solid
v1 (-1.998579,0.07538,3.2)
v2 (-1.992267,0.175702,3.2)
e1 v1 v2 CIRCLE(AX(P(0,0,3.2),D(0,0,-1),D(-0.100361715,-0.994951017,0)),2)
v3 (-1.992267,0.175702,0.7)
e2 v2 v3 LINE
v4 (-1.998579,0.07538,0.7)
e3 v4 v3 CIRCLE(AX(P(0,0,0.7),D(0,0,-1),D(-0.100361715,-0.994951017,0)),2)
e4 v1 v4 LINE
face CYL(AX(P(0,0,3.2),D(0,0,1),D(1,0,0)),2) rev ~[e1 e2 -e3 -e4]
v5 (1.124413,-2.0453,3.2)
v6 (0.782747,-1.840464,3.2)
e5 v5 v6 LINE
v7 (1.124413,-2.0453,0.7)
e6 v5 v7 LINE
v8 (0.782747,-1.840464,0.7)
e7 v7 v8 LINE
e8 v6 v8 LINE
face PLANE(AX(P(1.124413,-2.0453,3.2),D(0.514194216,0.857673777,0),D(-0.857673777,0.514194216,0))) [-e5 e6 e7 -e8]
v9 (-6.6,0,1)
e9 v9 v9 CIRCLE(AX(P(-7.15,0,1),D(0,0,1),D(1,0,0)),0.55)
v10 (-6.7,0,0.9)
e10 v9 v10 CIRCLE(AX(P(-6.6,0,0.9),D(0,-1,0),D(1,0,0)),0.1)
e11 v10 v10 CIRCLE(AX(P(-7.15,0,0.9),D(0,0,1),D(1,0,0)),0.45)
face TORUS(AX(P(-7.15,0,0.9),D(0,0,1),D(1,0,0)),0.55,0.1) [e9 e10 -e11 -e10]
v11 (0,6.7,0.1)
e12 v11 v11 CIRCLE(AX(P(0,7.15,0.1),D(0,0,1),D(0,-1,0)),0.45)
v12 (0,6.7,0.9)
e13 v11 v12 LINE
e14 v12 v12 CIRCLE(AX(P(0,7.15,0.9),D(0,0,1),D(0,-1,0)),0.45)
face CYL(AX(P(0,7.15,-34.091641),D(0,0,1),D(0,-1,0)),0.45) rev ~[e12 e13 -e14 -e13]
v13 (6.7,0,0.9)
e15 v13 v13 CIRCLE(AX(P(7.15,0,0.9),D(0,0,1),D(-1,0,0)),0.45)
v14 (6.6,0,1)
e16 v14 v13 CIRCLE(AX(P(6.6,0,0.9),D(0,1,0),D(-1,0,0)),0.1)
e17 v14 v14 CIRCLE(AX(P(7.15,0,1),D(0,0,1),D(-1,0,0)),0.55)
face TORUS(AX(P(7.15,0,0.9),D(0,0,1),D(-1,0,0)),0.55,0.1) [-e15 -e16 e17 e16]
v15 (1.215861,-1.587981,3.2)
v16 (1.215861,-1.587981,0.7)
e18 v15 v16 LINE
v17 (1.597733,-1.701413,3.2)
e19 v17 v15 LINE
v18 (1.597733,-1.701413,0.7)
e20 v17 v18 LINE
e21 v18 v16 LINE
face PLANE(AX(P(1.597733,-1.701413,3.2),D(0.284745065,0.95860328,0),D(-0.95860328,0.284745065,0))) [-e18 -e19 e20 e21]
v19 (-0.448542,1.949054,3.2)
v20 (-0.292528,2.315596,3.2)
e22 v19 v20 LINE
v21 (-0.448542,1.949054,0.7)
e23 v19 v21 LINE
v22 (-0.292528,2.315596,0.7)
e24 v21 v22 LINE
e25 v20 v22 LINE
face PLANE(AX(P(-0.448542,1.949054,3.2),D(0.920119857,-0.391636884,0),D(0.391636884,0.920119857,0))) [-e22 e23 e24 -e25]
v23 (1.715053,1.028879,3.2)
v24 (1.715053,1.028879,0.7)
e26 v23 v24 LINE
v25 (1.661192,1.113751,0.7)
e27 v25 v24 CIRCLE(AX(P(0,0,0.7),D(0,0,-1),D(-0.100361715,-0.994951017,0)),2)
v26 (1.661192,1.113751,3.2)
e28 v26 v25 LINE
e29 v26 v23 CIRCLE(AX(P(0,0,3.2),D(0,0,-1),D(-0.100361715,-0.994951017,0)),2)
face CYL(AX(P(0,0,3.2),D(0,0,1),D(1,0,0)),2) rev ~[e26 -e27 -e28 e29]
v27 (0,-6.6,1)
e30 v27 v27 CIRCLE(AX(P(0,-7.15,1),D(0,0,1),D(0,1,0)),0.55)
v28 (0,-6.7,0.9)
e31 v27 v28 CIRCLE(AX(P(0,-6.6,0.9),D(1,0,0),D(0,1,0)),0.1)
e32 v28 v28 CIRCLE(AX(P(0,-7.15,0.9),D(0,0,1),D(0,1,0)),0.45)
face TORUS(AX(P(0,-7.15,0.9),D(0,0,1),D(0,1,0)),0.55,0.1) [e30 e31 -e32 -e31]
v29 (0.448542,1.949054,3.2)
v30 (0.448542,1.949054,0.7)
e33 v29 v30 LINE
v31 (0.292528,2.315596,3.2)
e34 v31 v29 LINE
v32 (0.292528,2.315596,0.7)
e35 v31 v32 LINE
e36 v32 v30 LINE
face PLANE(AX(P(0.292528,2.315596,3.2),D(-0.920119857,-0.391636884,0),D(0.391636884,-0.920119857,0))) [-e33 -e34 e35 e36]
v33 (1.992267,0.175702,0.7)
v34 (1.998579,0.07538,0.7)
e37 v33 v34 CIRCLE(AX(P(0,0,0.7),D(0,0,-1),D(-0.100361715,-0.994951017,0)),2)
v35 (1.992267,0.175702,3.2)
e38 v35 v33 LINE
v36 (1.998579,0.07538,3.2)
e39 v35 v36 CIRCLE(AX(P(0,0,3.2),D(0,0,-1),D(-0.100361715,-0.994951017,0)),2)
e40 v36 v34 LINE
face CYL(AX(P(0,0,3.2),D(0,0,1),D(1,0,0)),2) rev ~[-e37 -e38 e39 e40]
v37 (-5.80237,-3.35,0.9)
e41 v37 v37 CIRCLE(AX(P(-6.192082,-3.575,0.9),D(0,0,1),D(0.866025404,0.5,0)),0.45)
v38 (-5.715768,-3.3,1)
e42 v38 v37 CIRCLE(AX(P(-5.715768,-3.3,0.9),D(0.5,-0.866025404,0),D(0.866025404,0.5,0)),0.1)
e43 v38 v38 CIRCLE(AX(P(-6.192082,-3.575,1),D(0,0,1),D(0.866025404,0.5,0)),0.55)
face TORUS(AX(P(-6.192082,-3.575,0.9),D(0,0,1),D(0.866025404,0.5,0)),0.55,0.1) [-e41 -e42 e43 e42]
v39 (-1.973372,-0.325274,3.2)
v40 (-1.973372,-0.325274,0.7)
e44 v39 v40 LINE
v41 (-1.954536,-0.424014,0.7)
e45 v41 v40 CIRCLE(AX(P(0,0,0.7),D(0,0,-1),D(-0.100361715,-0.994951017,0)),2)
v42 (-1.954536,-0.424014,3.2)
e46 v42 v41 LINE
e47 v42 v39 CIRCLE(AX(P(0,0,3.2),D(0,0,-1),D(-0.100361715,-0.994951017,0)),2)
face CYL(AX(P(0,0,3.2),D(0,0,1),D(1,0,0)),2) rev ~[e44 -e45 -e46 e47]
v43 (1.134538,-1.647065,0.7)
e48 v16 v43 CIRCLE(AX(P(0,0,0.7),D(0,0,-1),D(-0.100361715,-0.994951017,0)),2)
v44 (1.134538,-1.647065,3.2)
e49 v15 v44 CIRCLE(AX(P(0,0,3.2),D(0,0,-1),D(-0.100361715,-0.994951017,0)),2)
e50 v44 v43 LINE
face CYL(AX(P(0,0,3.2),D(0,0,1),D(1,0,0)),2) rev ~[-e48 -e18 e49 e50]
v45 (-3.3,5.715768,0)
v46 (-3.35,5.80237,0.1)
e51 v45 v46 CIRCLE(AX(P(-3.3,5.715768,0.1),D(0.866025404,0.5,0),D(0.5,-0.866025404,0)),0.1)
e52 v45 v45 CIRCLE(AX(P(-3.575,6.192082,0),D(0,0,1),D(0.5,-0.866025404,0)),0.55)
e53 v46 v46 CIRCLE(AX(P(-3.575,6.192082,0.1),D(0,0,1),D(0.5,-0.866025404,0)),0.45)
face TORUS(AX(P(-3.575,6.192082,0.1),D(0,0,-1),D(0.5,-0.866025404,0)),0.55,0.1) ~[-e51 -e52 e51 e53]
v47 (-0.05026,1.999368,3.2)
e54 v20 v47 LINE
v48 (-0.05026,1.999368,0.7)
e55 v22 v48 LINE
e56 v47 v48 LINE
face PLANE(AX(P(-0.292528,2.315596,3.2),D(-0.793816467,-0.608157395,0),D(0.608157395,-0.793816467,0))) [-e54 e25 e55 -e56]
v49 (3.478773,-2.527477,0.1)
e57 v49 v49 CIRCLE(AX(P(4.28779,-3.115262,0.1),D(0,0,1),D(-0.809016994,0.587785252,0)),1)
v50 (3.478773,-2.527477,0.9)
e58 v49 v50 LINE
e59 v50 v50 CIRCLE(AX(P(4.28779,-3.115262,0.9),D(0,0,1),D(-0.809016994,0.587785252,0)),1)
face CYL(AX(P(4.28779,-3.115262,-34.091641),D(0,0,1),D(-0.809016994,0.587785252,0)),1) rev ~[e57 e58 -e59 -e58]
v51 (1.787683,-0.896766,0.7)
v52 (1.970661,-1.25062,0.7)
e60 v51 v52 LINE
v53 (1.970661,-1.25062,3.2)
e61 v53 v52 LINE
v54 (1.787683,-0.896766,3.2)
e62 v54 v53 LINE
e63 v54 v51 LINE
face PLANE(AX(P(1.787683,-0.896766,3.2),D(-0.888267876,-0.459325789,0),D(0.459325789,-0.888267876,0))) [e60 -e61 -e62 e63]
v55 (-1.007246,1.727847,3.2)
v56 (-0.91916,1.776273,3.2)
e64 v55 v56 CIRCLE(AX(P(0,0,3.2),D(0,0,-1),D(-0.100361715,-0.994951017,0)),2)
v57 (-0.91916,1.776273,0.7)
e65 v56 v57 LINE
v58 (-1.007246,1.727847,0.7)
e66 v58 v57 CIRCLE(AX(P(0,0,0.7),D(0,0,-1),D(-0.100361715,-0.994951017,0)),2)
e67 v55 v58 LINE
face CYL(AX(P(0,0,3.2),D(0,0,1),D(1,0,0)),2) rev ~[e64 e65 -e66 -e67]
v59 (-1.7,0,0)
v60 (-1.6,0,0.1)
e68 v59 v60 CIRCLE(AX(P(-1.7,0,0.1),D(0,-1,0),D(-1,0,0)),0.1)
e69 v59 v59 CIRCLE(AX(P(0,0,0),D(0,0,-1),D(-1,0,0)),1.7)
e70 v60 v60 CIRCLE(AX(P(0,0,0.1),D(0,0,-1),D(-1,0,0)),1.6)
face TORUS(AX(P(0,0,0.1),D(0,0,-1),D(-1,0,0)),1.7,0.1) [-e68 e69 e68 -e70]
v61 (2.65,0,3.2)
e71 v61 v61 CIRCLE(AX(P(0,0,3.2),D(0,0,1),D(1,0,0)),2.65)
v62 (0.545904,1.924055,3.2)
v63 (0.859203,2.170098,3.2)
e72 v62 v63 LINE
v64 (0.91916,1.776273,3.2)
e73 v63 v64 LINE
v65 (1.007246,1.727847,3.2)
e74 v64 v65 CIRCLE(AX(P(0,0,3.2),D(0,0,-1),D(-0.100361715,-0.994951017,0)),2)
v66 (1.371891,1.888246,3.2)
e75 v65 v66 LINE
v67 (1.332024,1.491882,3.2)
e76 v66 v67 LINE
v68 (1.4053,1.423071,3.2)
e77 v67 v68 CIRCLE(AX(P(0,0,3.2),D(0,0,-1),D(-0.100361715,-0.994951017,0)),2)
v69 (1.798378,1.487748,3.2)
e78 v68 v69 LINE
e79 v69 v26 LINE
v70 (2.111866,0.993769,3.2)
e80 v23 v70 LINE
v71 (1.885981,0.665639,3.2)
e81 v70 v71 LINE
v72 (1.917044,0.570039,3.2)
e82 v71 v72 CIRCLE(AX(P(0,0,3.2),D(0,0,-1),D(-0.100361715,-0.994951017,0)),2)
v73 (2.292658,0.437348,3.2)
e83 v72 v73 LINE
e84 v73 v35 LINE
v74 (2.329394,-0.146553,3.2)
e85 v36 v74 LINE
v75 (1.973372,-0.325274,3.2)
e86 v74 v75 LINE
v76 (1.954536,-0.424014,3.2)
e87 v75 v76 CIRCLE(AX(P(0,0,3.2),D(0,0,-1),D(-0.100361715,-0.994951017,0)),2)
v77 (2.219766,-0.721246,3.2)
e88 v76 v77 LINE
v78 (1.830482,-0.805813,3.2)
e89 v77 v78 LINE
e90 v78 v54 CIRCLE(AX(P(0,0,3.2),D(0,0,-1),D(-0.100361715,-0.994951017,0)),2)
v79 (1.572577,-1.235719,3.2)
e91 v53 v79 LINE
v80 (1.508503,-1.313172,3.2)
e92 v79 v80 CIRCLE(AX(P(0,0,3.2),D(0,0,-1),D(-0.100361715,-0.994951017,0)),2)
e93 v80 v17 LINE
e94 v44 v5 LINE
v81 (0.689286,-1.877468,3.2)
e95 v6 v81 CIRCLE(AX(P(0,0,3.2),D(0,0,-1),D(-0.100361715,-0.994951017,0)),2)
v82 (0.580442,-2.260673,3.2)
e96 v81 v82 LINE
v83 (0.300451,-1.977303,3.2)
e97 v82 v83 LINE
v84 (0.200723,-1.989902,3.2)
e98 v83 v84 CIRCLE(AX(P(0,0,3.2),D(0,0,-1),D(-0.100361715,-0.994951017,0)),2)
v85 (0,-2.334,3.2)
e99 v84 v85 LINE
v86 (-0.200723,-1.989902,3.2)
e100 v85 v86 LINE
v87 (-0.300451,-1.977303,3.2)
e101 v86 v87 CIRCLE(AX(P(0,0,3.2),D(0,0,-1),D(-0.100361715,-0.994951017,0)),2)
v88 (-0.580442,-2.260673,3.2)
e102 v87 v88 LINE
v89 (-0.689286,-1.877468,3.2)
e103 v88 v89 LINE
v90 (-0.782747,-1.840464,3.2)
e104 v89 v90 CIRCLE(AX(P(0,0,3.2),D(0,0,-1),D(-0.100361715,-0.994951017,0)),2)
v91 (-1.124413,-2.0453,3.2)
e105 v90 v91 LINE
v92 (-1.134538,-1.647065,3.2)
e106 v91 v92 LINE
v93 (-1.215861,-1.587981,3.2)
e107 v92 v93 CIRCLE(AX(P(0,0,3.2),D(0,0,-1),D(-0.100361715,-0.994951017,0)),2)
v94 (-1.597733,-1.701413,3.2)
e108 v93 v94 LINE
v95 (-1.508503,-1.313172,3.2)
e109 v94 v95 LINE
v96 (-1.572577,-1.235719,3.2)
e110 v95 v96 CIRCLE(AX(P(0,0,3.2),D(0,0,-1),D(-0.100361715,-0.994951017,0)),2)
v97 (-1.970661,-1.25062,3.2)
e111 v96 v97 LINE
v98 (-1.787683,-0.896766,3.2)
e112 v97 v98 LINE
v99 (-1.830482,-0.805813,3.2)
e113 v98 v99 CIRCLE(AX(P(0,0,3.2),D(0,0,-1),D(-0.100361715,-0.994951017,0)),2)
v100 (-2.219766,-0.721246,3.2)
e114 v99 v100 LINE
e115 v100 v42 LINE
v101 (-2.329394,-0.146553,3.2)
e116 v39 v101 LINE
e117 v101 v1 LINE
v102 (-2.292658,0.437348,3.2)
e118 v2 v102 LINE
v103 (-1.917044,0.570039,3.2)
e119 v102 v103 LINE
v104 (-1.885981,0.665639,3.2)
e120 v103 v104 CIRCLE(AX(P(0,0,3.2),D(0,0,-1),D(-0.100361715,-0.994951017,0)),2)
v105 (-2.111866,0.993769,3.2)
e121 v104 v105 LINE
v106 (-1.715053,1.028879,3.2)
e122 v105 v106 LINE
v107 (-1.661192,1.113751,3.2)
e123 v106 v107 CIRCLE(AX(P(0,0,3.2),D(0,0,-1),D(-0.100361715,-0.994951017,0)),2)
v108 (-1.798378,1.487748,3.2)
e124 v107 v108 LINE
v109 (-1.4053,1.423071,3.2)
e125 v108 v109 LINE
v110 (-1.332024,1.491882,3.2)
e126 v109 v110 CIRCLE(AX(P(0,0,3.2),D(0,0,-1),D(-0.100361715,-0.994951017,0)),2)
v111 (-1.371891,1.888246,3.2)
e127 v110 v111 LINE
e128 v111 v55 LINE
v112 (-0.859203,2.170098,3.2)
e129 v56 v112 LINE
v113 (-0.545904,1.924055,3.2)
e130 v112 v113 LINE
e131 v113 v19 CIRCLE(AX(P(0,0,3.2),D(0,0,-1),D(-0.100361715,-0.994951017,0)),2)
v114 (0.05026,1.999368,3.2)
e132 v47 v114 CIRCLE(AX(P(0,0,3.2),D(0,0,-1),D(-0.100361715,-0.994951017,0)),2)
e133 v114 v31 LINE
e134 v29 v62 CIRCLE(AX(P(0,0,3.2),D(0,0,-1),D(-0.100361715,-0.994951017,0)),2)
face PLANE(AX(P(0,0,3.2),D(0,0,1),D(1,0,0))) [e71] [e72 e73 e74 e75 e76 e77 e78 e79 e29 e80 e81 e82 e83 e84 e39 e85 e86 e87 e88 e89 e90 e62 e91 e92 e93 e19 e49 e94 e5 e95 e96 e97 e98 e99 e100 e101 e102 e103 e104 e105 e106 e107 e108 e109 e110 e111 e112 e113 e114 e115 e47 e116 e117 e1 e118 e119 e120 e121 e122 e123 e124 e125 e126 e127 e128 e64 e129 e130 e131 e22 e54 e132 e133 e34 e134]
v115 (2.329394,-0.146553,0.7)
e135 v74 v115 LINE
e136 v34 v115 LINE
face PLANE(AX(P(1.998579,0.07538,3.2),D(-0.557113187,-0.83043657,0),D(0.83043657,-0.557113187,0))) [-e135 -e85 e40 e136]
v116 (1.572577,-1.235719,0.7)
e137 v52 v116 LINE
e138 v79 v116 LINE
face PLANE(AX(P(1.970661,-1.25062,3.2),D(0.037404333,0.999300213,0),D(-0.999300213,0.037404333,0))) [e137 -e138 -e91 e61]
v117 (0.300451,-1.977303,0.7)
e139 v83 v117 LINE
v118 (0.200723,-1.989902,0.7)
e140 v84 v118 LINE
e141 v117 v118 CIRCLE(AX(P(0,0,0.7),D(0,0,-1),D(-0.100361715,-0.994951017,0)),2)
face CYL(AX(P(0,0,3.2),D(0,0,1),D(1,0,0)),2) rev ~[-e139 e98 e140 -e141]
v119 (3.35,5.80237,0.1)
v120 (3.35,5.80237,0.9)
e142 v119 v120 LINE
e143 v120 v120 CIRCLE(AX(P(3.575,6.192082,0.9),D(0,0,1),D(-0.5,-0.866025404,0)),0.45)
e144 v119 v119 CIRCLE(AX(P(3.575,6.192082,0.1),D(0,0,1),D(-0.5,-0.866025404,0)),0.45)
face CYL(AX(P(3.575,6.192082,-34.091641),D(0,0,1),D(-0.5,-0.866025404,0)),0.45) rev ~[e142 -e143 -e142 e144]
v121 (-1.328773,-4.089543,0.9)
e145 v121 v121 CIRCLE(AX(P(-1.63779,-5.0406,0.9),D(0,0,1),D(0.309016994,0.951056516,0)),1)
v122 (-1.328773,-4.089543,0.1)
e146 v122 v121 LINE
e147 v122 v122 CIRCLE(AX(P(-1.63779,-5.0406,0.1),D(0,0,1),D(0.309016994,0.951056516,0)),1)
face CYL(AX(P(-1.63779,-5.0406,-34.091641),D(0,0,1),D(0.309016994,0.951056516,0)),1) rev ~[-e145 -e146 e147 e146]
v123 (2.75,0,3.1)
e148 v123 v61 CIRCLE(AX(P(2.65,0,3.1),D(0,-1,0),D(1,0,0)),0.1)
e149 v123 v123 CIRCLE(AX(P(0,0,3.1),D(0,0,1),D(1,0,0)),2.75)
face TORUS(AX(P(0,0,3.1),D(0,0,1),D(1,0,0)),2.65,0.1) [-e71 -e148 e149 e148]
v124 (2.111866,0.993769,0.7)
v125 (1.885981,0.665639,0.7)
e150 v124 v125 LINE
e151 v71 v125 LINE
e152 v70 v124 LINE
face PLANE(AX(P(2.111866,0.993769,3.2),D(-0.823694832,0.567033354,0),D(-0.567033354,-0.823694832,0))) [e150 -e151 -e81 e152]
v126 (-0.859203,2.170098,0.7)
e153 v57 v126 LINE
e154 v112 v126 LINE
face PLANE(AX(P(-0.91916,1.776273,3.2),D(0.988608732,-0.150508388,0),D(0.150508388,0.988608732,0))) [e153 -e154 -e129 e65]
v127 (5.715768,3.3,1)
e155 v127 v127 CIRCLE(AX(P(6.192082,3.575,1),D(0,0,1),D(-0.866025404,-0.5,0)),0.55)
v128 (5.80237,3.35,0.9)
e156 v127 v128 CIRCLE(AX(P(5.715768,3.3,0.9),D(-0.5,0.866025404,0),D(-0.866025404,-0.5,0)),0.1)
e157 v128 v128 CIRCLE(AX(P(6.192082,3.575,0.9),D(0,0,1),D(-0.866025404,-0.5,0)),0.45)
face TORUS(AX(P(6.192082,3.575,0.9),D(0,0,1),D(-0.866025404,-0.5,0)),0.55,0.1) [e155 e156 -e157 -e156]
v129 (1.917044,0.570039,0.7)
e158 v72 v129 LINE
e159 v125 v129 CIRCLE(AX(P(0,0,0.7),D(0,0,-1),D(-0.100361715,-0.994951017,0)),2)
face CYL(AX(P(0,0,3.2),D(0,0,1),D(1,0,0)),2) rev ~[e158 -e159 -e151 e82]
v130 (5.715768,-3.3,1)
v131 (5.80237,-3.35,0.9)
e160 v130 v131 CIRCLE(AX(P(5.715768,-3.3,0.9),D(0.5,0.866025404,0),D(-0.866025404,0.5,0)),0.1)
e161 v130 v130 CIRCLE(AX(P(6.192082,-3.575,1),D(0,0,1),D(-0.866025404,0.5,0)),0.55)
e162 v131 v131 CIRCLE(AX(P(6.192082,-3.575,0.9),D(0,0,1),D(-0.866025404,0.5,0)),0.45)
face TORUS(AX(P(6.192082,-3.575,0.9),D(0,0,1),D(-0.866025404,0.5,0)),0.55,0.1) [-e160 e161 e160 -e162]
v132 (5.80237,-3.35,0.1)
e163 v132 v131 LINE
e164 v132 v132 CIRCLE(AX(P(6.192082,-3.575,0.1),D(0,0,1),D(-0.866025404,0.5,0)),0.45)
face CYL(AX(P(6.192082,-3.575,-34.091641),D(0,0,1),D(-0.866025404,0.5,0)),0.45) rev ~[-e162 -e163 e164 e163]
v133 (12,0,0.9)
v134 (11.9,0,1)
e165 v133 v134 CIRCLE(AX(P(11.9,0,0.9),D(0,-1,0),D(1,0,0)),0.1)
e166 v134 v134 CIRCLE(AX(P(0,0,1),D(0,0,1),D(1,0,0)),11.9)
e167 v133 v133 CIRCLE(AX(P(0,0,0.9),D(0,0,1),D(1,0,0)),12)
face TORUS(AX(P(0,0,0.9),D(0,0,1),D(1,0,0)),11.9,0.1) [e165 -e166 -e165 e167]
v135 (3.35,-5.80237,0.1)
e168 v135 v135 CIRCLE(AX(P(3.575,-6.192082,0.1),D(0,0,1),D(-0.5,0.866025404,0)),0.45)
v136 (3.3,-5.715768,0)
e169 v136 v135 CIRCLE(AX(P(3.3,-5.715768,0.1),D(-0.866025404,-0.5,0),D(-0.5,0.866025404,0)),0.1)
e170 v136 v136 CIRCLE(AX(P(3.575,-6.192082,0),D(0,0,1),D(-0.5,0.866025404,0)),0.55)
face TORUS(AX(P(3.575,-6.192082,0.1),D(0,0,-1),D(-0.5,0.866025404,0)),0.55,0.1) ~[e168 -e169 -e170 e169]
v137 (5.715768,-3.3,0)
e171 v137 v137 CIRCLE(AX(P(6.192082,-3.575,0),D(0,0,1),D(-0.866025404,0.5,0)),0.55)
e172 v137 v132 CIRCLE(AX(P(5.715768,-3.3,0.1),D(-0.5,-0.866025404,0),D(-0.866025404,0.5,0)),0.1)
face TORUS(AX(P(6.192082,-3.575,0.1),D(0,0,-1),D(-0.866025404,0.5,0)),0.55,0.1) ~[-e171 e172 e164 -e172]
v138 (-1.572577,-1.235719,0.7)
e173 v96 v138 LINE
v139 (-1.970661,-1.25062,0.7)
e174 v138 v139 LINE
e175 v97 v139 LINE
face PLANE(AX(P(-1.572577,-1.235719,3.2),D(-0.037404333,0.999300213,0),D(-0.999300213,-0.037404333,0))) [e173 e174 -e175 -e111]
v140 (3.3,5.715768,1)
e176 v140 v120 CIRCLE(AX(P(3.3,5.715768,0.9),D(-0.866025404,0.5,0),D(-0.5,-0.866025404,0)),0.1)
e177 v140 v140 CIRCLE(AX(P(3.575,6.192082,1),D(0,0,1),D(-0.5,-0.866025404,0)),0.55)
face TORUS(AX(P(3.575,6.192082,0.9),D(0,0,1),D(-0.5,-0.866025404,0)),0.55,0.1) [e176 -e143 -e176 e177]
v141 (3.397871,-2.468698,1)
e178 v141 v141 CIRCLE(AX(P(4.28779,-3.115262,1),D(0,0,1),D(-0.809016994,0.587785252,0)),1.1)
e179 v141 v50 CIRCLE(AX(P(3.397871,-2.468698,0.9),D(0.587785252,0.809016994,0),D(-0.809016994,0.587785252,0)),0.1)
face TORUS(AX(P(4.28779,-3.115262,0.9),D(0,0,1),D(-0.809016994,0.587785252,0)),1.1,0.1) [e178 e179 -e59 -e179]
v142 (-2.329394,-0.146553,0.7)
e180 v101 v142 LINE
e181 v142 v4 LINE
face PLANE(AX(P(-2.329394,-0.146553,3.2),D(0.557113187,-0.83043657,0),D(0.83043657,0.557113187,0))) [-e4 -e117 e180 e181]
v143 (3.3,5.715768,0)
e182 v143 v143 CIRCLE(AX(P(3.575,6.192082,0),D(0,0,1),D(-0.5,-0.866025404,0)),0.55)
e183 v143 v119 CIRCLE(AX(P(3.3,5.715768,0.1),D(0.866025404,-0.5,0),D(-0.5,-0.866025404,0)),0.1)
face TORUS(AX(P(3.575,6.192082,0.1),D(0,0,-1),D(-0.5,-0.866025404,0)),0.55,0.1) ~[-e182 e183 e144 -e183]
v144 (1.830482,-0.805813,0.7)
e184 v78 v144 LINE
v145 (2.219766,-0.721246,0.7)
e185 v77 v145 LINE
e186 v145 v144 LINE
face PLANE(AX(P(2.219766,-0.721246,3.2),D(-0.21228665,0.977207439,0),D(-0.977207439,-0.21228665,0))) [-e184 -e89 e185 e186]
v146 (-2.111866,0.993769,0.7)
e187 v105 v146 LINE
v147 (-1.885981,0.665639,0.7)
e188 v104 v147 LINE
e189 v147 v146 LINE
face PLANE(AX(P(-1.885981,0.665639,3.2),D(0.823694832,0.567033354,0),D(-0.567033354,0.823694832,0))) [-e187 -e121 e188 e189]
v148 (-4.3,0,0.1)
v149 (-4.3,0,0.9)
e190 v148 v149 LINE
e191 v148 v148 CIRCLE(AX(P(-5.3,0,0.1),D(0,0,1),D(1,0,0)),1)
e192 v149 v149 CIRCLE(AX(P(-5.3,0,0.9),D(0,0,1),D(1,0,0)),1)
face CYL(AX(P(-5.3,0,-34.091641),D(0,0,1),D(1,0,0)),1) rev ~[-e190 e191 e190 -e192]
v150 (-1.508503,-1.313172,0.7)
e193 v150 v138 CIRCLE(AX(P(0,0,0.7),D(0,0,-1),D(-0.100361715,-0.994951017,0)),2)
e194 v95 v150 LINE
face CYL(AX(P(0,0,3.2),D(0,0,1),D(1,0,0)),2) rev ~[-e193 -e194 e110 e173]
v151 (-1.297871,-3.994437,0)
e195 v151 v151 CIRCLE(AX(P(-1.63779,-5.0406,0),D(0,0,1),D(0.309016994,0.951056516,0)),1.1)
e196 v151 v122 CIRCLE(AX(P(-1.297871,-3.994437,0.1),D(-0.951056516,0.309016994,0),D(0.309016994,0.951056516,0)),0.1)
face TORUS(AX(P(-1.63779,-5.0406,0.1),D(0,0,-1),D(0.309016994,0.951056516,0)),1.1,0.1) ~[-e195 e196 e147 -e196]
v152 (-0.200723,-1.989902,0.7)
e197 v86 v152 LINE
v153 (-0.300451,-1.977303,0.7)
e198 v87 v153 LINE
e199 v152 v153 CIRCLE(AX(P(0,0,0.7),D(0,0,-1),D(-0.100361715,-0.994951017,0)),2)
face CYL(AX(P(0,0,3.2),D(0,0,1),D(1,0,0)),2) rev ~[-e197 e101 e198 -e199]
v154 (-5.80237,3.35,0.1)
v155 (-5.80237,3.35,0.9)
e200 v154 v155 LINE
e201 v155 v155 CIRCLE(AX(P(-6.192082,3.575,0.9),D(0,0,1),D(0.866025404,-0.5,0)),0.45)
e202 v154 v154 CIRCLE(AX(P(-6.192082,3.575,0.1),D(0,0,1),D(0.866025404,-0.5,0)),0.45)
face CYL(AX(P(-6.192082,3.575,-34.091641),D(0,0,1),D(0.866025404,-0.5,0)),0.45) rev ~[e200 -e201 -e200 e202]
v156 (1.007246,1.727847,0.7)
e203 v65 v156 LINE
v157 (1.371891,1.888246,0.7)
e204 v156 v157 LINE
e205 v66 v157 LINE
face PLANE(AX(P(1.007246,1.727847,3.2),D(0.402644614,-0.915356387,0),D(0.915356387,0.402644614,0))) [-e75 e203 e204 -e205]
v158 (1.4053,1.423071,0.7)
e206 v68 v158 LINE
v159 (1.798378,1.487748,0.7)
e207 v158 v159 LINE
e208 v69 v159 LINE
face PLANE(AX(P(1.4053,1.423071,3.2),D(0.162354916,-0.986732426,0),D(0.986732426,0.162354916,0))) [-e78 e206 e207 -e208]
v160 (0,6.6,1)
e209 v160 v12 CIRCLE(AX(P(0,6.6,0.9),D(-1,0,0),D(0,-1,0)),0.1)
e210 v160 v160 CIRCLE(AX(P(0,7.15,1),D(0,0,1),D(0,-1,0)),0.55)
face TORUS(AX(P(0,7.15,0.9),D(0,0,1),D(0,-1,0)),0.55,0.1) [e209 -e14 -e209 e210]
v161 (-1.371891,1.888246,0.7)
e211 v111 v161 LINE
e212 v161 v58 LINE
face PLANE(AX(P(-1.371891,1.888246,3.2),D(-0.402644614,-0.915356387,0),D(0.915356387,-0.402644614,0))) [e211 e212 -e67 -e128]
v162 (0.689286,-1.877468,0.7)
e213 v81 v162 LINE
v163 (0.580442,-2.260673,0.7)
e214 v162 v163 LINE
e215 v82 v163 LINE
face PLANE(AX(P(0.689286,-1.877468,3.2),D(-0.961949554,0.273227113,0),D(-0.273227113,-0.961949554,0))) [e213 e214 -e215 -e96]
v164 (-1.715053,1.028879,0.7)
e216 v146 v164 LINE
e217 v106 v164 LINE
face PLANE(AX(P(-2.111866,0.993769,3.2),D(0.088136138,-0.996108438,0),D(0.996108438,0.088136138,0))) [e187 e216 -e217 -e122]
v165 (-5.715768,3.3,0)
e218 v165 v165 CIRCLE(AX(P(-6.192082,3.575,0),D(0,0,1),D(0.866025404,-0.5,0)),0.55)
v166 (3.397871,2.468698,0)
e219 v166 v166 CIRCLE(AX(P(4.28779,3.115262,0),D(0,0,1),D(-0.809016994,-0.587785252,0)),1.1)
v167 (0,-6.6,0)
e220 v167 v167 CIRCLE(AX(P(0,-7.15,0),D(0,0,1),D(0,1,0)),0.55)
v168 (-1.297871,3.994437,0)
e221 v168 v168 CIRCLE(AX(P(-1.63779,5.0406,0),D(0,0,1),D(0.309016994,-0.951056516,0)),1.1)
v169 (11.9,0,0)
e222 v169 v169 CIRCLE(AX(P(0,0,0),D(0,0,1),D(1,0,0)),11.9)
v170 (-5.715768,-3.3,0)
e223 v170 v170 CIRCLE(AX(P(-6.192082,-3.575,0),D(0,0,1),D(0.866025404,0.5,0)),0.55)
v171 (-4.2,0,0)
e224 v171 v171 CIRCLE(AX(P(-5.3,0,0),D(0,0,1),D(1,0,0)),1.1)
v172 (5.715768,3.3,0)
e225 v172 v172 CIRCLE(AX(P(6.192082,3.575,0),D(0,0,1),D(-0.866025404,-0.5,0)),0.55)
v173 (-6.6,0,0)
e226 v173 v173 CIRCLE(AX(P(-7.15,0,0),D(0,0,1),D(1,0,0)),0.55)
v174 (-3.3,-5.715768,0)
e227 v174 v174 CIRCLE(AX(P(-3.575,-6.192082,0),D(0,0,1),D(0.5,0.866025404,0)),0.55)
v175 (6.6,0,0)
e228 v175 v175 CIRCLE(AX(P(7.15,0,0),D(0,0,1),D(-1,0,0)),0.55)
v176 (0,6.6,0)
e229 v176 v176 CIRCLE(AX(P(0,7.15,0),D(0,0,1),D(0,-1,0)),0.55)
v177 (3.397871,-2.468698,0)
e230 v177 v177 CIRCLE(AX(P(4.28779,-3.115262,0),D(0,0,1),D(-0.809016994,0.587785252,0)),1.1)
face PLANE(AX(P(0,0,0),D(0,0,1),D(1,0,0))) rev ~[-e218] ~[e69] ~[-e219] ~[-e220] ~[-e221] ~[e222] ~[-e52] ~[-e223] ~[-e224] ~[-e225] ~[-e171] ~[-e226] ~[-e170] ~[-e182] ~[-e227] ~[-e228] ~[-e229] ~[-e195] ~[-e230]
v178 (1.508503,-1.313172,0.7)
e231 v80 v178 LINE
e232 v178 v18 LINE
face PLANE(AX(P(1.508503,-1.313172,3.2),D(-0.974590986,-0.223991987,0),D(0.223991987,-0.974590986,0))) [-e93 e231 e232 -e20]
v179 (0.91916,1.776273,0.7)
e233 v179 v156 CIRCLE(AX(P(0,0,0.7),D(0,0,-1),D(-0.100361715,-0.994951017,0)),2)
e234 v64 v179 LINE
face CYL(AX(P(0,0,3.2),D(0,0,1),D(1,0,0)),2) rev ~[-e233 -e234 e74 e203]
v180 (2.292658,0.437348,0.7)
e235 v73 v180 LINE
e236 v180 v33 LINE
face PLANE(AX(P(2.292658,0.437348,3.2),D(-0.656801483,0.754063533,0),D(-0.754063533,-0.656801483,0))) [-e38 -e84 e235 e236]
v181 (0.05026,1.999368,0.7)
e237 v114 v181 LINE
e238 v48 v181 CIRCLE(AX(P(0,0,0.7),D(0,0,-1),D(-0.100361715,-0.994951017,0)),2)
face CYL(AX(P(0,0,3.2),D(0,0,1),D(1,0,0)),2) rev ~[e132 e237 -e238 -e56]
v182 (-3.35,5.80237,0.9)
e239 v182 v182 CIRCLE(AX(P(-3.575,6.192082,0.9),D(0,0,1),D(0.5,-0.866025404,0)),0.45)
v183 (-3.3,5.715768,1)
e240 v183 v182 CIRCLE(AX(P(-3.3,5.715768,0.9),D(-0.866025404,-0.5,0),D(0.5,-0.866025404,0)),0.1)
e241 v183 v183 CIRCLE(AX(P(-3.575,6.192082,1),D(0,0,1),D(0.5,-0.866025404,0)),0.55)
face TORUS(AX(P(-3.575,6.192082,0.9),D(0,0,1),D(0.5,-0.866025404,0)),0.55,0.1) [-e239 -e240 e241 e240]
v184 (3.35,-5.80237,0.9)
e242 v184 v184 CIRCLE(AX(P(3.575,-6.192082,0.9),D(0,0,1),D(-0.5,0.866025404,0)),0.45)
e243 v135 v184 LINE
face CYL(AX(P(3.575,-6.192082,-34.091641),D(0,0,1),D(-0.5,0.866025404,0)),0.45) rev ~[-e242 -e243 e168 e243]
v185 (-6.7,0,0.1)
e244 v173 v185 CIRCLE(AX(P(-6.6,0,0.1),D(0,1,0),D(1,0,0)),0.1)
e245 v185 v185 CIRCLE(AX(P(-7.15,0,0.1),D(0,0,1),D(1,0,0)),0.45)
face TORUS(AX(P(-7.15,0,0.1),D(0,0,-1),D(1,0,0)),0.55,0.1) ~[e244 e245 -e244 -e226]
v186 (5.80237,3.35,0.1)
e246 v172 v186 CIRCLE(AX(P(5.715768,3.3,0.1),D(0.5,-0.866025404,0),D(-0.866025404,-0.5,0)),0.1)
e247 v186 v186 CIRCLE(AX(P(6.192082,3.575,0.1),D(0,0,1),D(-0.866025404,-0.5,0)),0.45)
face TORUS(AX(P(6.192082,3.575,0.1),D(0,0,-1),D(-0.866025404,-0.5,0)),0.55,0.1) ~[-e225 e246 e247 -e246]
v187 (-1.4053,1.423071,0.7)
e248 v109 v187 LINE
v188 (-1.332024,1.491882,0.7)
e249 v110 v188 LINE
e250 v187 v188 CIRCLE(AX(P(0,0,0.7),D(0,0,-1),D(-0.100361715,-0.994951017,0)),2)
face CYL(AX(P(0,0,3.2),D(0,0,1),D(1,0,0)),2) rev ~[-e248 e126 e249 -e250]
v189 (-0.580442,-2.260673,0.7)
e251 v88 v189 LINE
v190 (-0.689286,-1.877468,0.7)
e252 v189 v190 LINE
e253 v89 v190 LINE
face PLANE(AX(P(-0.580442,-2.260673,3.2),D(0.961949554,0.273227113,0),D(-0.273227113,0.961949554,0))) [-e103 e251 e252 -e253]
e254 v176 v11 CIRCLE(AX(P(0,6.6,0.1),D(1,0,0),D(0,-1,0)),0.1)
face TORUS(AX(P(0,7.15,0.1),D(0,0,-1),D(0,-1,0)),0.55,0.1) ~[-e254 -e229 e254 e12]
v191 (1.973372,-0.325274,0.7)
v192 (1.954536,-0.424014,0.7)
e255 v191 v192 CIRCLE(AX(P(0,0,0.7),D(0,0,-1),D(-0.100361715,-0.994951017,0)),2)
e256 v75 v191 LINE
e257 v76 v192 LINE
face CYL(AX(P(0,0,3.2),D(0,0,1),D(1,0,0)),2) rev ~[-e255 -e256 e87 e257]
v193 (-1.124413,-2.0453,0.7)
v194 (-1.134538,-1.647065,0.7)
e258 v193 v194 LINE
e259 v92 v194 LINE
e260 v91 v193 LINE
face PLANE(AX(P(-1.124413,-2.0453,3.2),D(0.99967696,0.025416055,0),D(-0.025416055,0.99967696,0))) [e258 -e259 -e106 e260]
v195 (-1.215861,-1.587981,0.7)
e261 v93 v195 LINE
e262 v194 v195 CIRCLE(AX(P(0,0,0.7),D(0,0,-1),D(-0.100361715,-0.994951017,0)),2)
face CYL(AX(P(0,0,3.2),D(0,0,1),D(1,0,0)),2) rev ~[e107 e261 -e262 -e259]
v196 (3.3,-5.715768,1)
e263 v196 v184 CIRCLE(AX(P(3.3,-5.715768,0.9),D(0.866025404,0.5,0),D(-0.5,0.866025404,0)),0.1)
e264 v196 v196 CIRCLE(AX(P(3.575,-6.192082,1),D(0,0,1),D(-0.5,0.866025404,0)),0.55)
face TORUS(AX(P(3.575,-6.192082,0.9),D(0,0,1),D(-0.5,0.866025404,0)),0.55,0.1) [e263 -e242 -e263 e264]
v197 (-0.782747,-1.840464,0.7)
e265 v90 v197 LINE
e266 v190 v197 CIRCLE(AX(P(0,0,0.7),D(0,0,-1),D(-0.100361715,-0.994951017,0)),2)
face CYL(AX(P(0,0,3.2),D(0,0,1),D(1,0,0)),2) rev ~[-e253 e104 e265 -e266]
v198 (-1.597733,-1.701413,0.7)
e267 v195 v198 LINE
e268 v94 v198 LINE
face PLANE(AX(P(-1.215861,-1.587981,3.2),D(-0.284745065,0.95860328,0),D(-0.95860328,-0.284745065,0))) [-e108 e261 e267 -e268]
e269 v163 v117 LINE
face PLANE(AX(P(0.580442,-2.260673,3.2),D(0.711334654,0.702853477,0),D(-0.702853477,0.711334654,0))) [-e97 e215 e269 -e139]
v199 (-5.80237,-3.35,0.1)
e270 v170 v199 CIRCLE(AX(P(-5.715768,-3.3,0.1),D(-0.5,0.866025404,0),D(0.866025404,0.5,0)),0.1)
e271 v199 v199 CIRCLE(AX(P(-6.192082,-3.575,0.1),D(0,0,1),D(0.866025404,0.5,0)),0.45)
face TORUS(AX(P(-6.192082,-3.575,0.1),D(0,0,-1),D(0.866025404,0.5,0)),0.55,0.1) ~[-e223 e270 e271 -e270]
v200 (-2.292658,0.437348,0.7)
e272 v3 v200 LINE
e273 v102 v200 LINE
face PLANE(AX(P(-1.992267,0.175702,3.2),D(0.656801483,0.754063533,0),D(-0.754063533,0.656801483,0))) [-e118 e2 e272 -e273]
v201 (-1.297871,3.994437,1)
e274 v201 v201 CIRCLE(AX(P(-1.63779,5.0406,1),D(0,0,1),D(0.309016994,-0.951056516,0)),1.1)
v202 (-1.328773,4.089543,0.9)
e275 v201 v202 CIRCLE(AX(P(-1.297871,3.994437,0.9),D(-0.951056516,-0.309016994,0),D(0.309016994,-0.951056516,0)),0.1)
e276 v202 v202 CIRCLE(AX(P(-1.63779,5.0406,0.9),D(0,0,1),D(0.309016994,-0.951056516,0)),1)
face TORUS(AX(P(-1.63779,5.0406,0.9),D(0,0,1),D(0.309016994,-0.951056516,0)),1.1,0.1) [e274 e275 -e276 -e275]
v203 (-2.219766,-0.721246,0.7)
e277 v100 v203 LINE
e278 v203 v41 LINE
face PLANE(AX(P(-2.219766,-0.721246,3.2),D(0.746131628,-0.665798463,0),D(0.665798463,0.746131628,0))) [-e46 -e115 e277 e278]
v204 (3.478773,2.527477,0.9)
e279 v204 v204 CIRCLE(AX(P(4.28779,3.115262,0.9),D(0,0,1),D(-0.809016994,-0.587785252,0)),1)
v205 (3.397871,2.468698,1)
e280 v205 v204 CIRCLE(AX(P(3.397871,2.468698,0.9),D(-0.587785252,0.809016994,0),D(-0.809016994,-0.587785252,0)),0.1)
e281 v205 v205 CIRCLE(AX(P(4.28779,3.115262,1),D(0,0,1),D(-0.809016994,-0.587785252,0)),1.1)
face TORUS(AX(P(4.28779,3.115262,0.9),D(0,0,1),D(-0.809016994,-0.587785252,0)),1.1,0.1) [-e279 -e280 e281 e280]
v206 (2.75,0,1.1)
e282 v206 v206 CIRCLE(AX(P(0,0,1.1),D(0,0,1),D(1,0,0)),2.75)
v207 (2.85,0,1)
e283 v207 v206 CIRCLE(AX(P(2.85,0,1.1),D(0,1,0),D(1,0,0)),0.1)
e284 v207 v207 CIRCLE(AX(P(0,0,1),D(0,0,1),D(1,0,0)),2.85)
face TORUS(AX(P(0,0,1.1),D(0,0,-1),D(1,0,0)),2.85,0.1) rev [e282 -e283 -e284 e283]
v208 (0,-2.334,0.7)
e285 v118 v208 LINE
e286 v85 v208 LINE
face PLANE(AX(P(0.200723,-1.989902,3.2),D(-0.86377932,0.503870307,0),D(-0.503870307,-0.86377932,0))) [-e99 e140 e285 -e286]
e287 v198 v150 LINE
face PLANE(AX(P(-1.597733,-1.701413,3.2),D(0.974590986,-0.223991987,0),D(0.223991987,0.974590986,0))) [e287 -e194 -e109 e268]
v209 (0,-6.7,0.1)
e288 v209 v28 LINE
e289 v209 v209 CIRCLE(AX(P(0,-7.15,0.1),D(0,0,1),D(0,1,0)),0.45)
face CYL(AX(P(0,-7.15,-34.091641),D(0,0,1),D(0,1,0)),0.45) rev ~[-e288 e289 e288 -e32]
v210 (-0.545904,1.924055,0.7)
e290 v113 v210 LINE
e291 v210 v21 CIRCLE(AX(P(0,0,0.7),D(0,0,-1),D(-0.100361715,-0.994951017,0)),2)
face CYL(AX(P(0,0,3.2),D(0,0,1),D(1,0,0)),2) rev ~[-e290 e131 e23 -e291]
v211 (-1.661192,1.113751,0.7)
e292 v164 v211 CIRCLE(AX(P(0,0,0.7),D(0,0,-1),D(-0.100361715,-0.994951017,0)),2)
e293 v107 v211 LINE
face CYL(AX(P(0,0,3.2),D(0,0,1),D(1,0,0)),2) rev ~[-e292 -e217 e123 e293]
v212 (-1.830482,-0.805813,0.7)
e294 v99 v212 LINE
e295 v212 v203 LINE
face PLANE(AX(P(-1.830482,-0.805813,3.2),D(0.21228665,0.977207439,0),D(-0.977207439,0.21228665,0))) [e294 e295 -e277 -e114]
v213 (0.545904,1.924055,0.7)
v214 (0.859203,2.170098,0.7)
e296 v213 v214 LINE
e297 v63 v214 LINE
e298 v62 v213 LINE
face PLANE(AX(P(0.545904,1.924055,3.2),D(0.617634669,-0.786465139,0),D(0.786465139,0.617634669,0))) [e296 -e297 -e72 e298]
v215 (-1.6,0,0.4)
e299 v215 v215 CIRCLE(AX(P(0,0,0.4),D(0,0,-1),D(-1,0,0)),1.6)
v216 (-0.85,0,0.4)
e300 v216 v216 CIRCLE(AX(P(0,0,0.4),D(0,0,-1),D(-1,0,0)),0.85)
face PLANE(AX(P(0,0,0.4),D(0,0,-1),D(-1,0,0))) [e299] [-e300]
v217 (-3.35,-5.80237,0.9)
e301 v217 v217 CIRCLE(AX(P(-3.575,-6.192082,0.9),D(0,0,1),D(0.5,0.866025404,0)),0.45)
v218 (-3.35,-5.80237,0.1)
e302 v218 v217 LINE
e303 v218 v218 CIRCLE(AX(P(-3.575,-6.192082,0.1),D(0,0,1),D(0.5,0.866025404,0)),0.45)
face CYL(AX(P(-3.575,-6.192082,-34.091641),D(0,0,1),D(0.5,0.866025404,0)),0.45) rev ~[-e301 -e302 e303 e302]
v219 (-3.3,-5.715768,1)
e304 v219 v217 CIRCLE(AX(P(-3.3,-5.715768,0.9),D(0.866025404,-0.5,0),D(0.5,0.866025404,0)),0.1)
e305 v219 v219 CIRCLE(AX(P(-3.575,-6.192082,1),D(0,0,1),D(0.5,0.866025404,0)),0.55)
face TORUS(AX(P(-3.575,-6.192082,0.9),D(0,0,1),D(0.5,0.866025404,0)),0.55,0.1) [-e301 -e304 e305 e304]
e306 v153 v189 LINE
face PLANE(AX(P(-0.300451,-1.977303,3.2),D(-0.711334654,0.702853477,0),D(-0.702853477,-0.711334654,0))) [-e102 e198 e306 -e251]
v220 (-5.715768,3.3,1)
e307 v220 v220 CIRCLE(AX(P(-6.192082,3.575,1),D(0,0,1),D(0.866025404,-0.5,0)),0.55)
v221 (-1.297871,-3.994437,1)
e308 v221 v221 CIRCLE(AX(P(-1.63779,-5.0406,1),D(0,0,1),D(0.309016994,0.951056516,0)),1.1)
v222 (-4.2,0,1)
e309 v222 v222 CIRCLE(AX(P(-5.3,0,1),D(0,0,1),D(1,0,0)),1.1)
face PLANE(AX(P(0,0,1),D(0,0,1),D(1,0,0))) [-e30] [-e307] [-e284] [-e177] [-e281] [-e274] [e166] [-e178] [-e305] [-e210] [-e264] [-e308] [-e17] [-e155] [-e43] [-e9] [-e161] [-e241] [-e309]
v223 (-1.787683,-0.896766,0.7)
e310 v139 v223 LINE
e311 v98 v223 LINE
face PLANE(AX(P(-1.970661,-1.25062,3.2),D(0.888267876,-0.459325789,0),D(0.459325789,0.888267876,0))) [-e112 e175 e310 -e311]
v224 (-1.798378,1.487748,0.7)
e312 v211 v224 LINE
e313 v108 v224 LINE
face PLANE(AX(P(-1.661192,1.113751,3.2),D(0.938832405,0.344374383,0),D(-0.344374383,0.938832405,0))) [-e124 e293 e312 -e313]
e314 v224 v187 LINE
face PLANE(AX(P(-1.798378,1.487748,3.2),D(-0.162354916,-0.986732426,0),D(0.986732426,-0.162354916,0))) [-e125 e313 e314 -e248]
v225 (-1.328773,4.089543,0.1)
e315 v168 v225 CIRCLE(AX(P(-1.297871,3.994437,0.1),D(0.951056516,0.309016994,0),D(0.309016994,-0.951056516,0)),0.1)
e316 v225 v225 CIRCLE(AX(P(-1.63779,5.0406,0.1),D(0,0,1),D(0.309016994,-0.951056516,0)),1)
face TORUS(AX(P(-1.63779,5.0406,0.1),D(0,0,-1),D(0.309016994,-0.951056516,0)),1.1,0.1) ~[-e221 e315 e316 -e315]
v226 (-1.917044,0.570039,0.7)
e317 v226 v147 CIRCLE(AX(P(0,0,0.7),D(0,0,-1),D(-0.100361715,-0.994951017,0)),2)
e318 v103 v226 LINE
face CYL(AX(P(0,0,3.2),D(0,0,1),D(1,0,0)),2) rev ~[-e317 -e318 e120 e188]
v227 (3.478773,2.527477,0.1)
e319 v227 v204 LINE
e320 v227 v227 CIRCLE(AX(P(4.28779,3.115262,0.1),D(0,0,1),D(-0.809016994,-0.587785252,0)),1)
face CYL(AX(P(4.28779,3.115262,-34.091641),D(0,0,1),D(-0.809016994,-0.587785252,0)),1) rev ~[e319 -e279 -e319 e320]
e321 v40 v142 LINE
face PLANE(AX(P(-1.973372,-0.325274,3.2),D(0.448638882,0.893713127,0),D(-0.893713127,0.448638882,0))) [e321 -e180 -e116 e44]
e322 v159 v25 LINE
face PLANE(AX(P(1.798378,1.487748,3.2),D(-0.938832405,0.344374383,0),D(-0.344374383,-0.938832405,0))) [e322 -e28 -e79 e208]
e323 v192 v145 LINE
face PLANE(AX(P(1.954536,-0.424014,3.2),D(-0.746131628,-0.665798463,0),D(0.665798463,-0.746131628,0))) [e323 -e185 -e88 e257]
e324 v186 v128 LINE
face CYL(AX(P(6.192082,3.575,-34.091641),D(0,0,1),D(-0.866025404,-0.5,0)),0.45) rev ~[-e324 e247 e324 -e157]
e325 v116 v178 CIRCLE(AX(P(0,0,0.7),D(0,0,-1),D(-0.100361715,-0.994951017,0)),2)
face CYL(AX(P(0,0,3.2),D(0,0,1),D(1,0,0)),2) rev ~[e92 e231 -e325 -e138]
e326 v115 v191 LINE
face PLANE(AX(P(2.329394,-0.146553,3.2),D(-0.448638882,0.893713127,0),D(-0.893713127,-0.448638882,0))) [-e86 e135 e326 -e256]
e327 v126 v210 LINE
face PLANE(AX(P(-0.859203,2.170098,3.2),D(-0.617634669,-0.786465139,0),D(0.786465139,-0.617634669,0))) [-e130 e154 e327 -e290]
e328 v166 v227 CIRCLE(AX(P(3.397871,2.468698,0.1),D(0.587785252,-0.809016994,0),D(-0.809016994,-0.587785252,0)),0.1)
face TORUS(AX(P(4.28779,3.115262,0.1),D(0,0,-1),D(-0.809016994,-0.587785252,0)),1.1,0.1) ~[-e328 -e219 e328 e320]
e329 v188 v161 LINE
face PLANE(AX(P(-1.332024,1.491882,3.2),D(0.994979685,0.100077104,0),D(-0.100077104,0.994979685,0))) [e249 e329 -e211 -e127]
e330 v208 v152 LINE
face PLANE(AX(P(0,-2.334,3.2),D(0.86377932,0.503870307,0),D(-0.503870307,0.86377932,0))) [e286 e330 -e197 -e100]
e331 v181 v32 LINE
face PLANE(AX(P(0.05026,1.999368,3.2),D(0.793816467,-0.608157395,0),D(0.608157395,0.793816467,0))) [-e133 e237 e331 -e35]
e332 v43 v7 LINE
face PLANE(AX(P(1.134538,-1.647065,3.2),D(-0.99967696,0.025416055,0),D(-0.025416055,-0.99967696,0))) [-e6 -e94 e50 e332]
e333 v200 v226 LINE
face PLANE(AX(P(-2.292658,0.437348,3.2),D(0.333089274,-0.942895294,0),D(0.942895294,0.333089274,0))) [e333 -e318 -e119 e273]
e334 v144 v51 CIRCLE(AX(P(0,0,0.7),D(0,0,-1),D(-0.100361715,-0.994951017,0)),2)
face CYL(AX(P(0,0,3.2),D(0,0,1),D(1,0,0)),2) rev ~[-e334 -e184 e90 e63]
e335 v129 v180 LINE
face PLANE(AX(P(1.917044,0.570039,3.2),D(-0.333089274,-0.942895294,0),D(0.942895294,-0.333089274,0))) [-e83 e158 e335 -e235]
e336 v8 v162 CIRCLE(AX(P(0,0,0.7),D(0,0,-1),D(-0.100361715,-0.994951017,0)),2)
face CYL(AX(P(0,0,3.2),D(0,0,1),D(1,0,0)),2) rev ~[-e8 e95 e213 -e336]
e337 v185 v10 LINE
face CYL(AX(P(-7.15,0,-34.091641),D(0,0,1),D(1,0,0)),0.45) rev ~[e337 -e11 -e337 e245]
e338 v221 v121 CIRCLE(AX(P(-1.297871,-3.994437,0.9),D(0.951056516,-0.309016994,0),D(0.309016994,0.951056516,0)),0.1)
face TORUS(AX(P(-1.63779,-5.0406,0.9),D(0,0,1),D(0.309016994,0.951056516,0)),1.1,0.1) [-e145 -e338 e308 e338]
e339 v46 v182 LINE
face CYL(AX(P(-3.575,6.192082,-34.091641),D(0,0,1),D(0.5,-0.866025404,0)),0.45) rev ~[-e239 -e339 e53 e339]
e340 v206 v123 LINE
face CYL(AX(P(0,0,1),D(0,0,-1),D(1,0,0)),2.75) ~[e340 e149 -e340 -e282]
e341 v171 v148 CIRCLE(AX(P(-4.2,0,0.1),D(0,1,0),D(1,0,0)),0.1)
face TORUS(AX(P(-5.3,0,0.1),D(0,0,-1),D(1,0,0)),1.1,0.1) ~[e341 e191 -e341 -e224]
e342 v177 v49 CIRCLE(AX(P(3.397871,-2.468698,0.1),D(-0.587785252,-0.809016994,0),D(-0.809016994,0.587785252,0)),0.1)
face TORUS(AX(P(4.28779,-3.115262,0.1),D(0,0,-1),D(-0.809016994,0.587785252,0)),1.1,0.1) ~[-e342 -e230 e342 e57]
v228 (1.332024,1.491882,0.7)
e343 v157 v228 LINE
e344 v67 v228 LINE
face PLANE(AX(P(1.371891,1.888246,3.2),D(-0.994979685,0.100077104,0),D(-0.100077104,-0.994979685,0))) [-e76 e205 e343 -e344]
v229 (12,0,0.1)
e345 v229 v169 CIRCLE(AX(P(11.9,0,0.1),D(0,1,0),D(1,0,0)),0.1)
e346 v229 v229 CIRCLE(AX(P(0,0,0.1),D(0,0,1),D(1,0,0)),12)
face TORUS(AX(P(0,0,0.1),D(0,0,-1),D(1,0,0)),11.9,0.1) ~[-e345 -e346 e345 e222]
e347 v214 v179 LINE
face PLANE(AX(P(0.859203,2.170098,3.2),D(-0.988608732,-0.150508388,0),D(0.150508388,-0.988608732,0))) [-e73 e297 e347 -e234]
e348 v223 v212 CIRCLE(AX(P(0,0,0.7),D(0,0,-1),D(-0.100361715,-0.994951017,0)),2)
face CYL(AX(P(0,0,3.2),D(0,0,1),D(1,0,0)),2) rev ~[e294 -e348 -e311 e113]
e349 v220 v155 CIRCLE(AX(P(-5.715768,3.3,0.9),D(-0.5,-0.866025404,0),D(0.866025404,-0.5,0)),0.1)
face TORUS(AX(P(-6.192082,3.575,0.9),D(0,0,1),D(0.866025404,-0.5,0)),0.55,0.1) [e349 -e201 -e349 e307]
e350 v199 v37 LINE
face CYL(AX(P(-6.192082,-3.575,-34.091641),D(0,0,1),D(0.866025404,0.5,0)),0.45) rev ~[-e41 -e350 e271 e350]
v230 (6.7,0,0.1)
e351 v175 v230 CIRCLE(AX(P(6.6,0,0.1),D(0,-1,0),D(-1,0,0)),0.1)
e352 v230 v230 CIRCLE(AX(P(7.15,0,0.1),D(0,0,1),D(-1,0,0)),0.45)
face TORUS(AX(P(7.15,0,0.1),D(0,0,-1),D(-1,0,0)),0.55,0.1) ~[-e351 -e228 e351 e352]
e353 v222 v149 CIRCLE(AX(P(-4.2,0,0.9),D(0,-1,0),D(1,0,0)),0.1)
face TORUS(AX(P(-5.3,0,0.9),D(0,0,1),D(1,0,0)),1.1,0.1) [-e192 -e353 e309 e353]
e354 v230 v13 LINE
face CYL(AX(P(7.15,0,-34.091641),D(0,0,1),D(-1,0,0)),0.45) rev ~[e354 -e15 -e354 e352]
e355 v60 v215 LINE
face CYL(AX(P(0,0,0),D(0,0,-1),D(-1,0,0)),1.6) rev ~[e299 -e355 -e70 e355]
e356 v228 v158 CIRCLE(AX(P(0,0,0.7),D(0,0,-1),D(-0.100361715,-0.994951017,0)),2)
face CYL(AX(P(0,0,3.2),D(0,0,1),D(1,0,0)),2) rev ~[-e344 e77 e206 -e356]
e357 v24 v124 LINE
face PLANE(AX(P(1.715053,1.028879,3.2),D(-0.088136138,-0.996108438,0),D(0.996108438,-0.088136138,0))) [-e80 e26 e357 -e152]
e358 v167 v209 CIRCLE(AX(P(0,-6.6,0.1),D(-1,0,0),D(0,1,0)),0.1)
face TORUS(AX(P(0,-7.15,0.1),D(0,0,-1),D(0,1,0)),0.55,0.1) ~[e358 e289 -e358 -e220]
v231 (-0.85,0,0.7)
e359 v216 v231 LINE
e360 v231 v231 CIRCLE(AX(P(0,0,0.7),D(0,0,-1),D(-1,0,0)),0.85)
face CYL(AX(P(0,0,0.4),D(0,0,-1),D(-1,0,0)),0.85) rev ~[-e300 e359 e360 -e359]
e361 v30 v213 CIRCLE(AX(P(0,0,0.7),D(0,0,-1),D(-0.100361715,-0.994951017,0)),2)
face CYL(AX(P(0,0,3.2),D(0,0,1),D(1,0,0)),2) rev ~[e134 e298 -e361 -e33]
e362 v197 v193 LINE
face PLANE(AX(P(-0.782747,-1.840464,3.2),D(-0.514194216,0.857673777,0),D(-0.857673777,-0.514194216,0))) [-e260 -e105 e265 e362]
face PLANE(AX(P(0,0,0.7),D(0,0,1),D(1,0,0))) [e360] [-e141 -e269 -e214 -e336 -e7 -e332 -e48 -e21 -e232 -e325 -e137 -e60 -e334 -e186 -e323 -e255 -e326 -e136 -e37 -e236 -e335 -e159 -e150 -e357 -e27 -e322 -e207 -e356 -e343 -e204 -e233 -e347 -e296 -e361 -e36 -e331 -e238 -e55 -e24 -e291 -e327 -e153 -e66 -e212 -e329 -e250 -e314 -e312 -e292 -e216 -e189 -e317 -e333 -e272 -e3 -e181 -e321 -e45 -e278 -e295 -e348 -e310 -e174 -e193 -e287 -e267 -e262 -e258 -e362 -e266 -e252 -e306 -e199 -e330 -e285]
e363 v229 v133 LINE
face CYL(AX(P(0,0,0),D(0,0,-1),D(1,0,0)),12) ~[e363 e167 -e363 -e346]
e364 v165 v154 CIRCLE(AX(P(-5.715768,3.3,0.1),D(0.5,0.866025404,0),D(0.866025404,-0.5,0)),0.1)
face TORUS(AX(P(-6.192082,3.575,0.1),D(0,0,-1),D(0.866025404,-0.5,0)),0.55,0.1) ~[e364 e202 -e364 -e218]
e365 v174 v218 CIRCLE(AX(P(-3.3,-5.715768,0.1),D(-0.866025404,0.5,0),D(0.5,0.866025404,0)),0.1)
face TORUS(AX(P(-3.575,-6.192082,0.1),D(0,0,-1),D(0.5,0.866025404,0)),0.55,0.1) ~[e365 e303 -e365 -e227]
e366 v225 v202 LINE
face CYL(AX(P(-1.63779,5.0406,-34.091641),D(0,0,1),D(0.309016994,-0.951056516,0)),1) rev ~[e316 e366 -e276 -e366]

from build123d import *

# Parameters (mm, degrees)
ESQUISSE1_R                = 12
BOSS_EXTRU_1_DEPTH         = 1
ESQUISSE2_R                = 2.75
BOSS_EXTRU_2_DEPTH         = 2.2
ESQUISSE3_R                = 2
ENL_V_MAT_EXTRU_1_DEPTH    = 2.5
CUT_EXTRUDE1_DEPTH         = 2.5
CIRPATTERN1_COUNT          = 25
ESQUISSE4_R                = 1.6
ENL_V_MAT_EXTRU_2_DEPTH    = 0.4
ESQUISSE5_R                = 0.85
ENL_V_MAT_EXTRU_3_DEPTH    = 4.8
F_0_9_0_9_DIAMETER_HOLE1_D = 0.9
CIRPATTERN2_COUNT          = 12
F_2_0_2_DIAMETER_HOLE1_D   = 2
CIRPATTERN3_COUNT          = 5
FILLET1_R                  = 0.1


with BuildPart() as part:
    # Esquisse1 → Boss.-Extru.1 (new body)
    with BuildSketch(Plane.XY):
        Circle(ESQUISSE1_R)
    extrude(amount=BOSS_EXTRU_1_DEPTH)

    # Esquisse2 → Boss.-Extru.2 (add)
    with BuildSketch(Plane.XY.offset(1)):
        Circle(ESQUISSE2_R)
    extrude(amount=BOSS_EXTRU_2_DEPTH)

    # Esquisse3 → Enlèv. mat.-Extru.1 (cut)
    with BuildSketch(Plane.XY.offset(3.2)):
        Circle(ESQUISSE3_R)
    extrude(amount=-ENL_V_MAT_EXTRU_1_DEPTH, mode=Mode.SUBTRACT)

    # Sketch1 → Cut-Extrude1 (cut)
    with BuildSketch(Plane.XY.offset(3.2)):
        with BuildLine():
            Line((0.20072343, -1.989902034), (0, -2.334))
            Line((0, -2.334), (-0.20072343, -1.989902034))
            ThreePointArc((-0.20072343, -1.989902034), (0, -2), (0.20072343, -1.989902034))
        make_face()
    cut_extrude1 = extrude(amount=-CUT_EXTRUDE1_DEPTH, mode=Mode.SUBTRACT)

    # CirPattern1: Cut-Extrude1 ×25 about axis
    cirpattern1_axis = Axis((0, 0, 0), (0, 0, 1))
    for i in range(1, CIRPATTERN1_COUNT):
        add(cut_extrude1.rotate(cirpattern1_axis, i * 360 / CIRPATTERN1_COUNT), mode=Mode.SUBTRACT)

    # Esquisse4 → Enlèv. mat.-Extru.2 (cut)
    with BuildSketch(Plane(origin=(0, 0, 0), x_dir=(-1, 0, 0), z_dir=(0, 0, -1))):
        Circle(ESQUISSE4_R)
    extrude(amount=-ENL_V_MAT_EXTRU_2_DEPTH, mode=Mode.SUBTRACT)

    # Esquisse5 → Enlèv. mat.-Extru.3 (cut)
    with BuildSketch(Plane(origin=(0, 0, 0.4), x_dir=(-1, 0, 0), z_dir=(0, 0, -1))):
        Circle(ESQUISSE5_R)
    extrude(amount=-ENL_V_MAT_EXTRU_3_DEPTH, mode=Mode.SUBTRACT)

    # Ø0.9 (0.9) Diameter Hole1 (through all)
    with Locations(Plane(origin=(0, 0, 0), x_dir=(-1, 0, 0), z_dir=(0, 0, -1))):
        with Locations((7.15, 0)):
            f_0_9_0_9_diameter_hole1 = Hole(F_0_9_0_9_DIAMETER_HOLE1_D / 2)

    # CirPattern2: Ø0.9 (0.9) Diameter Hole1 ×12 about axis
    cirpattern2_axis = Axis((0, 0, 0), (0, 0, 1))
    for i in range(1, CIRPATTERN2_COUNT):
        add(f_0_9_0_9_diameter_hole1.rotate(cirpattern2_axis, i * 360 / CIRPATTERN2_COUNT), mode=Mode.SUBTRACT)

    # Ø2.0 (2) Diameter Hole1 (through all)
    with Locations(Plane(origin=(0, 0, 0), x_dir=(-1, 0, 0), z_dir=(0, 0, -1))):
        with Locations((5.3, 0)):
            f_2_0_2_diameter_hole1 = Hole(F_2_0_2_DIAMETER_HOLE1_D / 2)

    # CirPattern3: Ø2.0 (2) Diameter Hole1 ×5 about axis
    cirpattern3_axis = Axis((0, 0, 0), (0, 0, 1))
    for i in range(1, CIRPATTERN3_COUNT):
        add(f_2_0_2_diameter_hole1.rotate(cirpattern3_axis, i * 360 / CIRPATTERN3_COUNT), mode=Mode.SUBTRACT)

    # Fillet1
    fillet1_edges = [part.edges().sort_by_distance(p)[0] for p in [
        (-12, 0, 0),
        (1.6, 0, 0),
        (-7.6, 0, 1),
        (-7.6, 0, 0),
        (-6.581793069, 3.8, 1),
        (-6.581793069, 3.8, 0),
        (-3.8, 6.581793069, 1),
        (-3.8, 6.581793069, 0),
        (0, 7.6, 1),
        (0, 7.6, 0),
        (3.8, 6.581793069, 1),
        (3.8, 6.581793069, 0),
        (6.581793069, 3.8, 1),
        (6.581793069, 3.8, 0),
        (7.6, 0, 1),
        (7.6, 0, 0),
        (6.581793069, -3.8, 1),
        (6.581793069, -3.8, 0),
        (3.8, -6.581793069, 1),
        (3.8, -6.581793069, 0),
        (0, -7.6, 1),
        (0, -7.6, 0),
        (-3.8, -6.581793069, 1),
        (-3.8, -6.581793069, 0),
        (-6.581793069, -3.8, 1),
        (-6.581793069, -3.8, 0),
        (-6.3, 0, 1),
        (-6.3, 0, 0),
        (-1.946807065, 5.991656053, 1),
        (-1.946807065, 5.991656053, 0),
        (5.096807065, 3.703047089, 1),
        (5.096807065, 3.703047089, 0),
        (5.096807065, -3.703047089, 1),
        (5.096807065, -3.703047089, 0),
        (-1.946807065, -5.991656053, 1),
        (-1.946807065, -5.991656053, 0),
        (-12, 0, 1),
        (-2.75, 0, 1),
        (-2.75, 0, 3.2),
    ]]
    fillet(fillet1_edges, radius=FILLET1_R)


solid = part.part
